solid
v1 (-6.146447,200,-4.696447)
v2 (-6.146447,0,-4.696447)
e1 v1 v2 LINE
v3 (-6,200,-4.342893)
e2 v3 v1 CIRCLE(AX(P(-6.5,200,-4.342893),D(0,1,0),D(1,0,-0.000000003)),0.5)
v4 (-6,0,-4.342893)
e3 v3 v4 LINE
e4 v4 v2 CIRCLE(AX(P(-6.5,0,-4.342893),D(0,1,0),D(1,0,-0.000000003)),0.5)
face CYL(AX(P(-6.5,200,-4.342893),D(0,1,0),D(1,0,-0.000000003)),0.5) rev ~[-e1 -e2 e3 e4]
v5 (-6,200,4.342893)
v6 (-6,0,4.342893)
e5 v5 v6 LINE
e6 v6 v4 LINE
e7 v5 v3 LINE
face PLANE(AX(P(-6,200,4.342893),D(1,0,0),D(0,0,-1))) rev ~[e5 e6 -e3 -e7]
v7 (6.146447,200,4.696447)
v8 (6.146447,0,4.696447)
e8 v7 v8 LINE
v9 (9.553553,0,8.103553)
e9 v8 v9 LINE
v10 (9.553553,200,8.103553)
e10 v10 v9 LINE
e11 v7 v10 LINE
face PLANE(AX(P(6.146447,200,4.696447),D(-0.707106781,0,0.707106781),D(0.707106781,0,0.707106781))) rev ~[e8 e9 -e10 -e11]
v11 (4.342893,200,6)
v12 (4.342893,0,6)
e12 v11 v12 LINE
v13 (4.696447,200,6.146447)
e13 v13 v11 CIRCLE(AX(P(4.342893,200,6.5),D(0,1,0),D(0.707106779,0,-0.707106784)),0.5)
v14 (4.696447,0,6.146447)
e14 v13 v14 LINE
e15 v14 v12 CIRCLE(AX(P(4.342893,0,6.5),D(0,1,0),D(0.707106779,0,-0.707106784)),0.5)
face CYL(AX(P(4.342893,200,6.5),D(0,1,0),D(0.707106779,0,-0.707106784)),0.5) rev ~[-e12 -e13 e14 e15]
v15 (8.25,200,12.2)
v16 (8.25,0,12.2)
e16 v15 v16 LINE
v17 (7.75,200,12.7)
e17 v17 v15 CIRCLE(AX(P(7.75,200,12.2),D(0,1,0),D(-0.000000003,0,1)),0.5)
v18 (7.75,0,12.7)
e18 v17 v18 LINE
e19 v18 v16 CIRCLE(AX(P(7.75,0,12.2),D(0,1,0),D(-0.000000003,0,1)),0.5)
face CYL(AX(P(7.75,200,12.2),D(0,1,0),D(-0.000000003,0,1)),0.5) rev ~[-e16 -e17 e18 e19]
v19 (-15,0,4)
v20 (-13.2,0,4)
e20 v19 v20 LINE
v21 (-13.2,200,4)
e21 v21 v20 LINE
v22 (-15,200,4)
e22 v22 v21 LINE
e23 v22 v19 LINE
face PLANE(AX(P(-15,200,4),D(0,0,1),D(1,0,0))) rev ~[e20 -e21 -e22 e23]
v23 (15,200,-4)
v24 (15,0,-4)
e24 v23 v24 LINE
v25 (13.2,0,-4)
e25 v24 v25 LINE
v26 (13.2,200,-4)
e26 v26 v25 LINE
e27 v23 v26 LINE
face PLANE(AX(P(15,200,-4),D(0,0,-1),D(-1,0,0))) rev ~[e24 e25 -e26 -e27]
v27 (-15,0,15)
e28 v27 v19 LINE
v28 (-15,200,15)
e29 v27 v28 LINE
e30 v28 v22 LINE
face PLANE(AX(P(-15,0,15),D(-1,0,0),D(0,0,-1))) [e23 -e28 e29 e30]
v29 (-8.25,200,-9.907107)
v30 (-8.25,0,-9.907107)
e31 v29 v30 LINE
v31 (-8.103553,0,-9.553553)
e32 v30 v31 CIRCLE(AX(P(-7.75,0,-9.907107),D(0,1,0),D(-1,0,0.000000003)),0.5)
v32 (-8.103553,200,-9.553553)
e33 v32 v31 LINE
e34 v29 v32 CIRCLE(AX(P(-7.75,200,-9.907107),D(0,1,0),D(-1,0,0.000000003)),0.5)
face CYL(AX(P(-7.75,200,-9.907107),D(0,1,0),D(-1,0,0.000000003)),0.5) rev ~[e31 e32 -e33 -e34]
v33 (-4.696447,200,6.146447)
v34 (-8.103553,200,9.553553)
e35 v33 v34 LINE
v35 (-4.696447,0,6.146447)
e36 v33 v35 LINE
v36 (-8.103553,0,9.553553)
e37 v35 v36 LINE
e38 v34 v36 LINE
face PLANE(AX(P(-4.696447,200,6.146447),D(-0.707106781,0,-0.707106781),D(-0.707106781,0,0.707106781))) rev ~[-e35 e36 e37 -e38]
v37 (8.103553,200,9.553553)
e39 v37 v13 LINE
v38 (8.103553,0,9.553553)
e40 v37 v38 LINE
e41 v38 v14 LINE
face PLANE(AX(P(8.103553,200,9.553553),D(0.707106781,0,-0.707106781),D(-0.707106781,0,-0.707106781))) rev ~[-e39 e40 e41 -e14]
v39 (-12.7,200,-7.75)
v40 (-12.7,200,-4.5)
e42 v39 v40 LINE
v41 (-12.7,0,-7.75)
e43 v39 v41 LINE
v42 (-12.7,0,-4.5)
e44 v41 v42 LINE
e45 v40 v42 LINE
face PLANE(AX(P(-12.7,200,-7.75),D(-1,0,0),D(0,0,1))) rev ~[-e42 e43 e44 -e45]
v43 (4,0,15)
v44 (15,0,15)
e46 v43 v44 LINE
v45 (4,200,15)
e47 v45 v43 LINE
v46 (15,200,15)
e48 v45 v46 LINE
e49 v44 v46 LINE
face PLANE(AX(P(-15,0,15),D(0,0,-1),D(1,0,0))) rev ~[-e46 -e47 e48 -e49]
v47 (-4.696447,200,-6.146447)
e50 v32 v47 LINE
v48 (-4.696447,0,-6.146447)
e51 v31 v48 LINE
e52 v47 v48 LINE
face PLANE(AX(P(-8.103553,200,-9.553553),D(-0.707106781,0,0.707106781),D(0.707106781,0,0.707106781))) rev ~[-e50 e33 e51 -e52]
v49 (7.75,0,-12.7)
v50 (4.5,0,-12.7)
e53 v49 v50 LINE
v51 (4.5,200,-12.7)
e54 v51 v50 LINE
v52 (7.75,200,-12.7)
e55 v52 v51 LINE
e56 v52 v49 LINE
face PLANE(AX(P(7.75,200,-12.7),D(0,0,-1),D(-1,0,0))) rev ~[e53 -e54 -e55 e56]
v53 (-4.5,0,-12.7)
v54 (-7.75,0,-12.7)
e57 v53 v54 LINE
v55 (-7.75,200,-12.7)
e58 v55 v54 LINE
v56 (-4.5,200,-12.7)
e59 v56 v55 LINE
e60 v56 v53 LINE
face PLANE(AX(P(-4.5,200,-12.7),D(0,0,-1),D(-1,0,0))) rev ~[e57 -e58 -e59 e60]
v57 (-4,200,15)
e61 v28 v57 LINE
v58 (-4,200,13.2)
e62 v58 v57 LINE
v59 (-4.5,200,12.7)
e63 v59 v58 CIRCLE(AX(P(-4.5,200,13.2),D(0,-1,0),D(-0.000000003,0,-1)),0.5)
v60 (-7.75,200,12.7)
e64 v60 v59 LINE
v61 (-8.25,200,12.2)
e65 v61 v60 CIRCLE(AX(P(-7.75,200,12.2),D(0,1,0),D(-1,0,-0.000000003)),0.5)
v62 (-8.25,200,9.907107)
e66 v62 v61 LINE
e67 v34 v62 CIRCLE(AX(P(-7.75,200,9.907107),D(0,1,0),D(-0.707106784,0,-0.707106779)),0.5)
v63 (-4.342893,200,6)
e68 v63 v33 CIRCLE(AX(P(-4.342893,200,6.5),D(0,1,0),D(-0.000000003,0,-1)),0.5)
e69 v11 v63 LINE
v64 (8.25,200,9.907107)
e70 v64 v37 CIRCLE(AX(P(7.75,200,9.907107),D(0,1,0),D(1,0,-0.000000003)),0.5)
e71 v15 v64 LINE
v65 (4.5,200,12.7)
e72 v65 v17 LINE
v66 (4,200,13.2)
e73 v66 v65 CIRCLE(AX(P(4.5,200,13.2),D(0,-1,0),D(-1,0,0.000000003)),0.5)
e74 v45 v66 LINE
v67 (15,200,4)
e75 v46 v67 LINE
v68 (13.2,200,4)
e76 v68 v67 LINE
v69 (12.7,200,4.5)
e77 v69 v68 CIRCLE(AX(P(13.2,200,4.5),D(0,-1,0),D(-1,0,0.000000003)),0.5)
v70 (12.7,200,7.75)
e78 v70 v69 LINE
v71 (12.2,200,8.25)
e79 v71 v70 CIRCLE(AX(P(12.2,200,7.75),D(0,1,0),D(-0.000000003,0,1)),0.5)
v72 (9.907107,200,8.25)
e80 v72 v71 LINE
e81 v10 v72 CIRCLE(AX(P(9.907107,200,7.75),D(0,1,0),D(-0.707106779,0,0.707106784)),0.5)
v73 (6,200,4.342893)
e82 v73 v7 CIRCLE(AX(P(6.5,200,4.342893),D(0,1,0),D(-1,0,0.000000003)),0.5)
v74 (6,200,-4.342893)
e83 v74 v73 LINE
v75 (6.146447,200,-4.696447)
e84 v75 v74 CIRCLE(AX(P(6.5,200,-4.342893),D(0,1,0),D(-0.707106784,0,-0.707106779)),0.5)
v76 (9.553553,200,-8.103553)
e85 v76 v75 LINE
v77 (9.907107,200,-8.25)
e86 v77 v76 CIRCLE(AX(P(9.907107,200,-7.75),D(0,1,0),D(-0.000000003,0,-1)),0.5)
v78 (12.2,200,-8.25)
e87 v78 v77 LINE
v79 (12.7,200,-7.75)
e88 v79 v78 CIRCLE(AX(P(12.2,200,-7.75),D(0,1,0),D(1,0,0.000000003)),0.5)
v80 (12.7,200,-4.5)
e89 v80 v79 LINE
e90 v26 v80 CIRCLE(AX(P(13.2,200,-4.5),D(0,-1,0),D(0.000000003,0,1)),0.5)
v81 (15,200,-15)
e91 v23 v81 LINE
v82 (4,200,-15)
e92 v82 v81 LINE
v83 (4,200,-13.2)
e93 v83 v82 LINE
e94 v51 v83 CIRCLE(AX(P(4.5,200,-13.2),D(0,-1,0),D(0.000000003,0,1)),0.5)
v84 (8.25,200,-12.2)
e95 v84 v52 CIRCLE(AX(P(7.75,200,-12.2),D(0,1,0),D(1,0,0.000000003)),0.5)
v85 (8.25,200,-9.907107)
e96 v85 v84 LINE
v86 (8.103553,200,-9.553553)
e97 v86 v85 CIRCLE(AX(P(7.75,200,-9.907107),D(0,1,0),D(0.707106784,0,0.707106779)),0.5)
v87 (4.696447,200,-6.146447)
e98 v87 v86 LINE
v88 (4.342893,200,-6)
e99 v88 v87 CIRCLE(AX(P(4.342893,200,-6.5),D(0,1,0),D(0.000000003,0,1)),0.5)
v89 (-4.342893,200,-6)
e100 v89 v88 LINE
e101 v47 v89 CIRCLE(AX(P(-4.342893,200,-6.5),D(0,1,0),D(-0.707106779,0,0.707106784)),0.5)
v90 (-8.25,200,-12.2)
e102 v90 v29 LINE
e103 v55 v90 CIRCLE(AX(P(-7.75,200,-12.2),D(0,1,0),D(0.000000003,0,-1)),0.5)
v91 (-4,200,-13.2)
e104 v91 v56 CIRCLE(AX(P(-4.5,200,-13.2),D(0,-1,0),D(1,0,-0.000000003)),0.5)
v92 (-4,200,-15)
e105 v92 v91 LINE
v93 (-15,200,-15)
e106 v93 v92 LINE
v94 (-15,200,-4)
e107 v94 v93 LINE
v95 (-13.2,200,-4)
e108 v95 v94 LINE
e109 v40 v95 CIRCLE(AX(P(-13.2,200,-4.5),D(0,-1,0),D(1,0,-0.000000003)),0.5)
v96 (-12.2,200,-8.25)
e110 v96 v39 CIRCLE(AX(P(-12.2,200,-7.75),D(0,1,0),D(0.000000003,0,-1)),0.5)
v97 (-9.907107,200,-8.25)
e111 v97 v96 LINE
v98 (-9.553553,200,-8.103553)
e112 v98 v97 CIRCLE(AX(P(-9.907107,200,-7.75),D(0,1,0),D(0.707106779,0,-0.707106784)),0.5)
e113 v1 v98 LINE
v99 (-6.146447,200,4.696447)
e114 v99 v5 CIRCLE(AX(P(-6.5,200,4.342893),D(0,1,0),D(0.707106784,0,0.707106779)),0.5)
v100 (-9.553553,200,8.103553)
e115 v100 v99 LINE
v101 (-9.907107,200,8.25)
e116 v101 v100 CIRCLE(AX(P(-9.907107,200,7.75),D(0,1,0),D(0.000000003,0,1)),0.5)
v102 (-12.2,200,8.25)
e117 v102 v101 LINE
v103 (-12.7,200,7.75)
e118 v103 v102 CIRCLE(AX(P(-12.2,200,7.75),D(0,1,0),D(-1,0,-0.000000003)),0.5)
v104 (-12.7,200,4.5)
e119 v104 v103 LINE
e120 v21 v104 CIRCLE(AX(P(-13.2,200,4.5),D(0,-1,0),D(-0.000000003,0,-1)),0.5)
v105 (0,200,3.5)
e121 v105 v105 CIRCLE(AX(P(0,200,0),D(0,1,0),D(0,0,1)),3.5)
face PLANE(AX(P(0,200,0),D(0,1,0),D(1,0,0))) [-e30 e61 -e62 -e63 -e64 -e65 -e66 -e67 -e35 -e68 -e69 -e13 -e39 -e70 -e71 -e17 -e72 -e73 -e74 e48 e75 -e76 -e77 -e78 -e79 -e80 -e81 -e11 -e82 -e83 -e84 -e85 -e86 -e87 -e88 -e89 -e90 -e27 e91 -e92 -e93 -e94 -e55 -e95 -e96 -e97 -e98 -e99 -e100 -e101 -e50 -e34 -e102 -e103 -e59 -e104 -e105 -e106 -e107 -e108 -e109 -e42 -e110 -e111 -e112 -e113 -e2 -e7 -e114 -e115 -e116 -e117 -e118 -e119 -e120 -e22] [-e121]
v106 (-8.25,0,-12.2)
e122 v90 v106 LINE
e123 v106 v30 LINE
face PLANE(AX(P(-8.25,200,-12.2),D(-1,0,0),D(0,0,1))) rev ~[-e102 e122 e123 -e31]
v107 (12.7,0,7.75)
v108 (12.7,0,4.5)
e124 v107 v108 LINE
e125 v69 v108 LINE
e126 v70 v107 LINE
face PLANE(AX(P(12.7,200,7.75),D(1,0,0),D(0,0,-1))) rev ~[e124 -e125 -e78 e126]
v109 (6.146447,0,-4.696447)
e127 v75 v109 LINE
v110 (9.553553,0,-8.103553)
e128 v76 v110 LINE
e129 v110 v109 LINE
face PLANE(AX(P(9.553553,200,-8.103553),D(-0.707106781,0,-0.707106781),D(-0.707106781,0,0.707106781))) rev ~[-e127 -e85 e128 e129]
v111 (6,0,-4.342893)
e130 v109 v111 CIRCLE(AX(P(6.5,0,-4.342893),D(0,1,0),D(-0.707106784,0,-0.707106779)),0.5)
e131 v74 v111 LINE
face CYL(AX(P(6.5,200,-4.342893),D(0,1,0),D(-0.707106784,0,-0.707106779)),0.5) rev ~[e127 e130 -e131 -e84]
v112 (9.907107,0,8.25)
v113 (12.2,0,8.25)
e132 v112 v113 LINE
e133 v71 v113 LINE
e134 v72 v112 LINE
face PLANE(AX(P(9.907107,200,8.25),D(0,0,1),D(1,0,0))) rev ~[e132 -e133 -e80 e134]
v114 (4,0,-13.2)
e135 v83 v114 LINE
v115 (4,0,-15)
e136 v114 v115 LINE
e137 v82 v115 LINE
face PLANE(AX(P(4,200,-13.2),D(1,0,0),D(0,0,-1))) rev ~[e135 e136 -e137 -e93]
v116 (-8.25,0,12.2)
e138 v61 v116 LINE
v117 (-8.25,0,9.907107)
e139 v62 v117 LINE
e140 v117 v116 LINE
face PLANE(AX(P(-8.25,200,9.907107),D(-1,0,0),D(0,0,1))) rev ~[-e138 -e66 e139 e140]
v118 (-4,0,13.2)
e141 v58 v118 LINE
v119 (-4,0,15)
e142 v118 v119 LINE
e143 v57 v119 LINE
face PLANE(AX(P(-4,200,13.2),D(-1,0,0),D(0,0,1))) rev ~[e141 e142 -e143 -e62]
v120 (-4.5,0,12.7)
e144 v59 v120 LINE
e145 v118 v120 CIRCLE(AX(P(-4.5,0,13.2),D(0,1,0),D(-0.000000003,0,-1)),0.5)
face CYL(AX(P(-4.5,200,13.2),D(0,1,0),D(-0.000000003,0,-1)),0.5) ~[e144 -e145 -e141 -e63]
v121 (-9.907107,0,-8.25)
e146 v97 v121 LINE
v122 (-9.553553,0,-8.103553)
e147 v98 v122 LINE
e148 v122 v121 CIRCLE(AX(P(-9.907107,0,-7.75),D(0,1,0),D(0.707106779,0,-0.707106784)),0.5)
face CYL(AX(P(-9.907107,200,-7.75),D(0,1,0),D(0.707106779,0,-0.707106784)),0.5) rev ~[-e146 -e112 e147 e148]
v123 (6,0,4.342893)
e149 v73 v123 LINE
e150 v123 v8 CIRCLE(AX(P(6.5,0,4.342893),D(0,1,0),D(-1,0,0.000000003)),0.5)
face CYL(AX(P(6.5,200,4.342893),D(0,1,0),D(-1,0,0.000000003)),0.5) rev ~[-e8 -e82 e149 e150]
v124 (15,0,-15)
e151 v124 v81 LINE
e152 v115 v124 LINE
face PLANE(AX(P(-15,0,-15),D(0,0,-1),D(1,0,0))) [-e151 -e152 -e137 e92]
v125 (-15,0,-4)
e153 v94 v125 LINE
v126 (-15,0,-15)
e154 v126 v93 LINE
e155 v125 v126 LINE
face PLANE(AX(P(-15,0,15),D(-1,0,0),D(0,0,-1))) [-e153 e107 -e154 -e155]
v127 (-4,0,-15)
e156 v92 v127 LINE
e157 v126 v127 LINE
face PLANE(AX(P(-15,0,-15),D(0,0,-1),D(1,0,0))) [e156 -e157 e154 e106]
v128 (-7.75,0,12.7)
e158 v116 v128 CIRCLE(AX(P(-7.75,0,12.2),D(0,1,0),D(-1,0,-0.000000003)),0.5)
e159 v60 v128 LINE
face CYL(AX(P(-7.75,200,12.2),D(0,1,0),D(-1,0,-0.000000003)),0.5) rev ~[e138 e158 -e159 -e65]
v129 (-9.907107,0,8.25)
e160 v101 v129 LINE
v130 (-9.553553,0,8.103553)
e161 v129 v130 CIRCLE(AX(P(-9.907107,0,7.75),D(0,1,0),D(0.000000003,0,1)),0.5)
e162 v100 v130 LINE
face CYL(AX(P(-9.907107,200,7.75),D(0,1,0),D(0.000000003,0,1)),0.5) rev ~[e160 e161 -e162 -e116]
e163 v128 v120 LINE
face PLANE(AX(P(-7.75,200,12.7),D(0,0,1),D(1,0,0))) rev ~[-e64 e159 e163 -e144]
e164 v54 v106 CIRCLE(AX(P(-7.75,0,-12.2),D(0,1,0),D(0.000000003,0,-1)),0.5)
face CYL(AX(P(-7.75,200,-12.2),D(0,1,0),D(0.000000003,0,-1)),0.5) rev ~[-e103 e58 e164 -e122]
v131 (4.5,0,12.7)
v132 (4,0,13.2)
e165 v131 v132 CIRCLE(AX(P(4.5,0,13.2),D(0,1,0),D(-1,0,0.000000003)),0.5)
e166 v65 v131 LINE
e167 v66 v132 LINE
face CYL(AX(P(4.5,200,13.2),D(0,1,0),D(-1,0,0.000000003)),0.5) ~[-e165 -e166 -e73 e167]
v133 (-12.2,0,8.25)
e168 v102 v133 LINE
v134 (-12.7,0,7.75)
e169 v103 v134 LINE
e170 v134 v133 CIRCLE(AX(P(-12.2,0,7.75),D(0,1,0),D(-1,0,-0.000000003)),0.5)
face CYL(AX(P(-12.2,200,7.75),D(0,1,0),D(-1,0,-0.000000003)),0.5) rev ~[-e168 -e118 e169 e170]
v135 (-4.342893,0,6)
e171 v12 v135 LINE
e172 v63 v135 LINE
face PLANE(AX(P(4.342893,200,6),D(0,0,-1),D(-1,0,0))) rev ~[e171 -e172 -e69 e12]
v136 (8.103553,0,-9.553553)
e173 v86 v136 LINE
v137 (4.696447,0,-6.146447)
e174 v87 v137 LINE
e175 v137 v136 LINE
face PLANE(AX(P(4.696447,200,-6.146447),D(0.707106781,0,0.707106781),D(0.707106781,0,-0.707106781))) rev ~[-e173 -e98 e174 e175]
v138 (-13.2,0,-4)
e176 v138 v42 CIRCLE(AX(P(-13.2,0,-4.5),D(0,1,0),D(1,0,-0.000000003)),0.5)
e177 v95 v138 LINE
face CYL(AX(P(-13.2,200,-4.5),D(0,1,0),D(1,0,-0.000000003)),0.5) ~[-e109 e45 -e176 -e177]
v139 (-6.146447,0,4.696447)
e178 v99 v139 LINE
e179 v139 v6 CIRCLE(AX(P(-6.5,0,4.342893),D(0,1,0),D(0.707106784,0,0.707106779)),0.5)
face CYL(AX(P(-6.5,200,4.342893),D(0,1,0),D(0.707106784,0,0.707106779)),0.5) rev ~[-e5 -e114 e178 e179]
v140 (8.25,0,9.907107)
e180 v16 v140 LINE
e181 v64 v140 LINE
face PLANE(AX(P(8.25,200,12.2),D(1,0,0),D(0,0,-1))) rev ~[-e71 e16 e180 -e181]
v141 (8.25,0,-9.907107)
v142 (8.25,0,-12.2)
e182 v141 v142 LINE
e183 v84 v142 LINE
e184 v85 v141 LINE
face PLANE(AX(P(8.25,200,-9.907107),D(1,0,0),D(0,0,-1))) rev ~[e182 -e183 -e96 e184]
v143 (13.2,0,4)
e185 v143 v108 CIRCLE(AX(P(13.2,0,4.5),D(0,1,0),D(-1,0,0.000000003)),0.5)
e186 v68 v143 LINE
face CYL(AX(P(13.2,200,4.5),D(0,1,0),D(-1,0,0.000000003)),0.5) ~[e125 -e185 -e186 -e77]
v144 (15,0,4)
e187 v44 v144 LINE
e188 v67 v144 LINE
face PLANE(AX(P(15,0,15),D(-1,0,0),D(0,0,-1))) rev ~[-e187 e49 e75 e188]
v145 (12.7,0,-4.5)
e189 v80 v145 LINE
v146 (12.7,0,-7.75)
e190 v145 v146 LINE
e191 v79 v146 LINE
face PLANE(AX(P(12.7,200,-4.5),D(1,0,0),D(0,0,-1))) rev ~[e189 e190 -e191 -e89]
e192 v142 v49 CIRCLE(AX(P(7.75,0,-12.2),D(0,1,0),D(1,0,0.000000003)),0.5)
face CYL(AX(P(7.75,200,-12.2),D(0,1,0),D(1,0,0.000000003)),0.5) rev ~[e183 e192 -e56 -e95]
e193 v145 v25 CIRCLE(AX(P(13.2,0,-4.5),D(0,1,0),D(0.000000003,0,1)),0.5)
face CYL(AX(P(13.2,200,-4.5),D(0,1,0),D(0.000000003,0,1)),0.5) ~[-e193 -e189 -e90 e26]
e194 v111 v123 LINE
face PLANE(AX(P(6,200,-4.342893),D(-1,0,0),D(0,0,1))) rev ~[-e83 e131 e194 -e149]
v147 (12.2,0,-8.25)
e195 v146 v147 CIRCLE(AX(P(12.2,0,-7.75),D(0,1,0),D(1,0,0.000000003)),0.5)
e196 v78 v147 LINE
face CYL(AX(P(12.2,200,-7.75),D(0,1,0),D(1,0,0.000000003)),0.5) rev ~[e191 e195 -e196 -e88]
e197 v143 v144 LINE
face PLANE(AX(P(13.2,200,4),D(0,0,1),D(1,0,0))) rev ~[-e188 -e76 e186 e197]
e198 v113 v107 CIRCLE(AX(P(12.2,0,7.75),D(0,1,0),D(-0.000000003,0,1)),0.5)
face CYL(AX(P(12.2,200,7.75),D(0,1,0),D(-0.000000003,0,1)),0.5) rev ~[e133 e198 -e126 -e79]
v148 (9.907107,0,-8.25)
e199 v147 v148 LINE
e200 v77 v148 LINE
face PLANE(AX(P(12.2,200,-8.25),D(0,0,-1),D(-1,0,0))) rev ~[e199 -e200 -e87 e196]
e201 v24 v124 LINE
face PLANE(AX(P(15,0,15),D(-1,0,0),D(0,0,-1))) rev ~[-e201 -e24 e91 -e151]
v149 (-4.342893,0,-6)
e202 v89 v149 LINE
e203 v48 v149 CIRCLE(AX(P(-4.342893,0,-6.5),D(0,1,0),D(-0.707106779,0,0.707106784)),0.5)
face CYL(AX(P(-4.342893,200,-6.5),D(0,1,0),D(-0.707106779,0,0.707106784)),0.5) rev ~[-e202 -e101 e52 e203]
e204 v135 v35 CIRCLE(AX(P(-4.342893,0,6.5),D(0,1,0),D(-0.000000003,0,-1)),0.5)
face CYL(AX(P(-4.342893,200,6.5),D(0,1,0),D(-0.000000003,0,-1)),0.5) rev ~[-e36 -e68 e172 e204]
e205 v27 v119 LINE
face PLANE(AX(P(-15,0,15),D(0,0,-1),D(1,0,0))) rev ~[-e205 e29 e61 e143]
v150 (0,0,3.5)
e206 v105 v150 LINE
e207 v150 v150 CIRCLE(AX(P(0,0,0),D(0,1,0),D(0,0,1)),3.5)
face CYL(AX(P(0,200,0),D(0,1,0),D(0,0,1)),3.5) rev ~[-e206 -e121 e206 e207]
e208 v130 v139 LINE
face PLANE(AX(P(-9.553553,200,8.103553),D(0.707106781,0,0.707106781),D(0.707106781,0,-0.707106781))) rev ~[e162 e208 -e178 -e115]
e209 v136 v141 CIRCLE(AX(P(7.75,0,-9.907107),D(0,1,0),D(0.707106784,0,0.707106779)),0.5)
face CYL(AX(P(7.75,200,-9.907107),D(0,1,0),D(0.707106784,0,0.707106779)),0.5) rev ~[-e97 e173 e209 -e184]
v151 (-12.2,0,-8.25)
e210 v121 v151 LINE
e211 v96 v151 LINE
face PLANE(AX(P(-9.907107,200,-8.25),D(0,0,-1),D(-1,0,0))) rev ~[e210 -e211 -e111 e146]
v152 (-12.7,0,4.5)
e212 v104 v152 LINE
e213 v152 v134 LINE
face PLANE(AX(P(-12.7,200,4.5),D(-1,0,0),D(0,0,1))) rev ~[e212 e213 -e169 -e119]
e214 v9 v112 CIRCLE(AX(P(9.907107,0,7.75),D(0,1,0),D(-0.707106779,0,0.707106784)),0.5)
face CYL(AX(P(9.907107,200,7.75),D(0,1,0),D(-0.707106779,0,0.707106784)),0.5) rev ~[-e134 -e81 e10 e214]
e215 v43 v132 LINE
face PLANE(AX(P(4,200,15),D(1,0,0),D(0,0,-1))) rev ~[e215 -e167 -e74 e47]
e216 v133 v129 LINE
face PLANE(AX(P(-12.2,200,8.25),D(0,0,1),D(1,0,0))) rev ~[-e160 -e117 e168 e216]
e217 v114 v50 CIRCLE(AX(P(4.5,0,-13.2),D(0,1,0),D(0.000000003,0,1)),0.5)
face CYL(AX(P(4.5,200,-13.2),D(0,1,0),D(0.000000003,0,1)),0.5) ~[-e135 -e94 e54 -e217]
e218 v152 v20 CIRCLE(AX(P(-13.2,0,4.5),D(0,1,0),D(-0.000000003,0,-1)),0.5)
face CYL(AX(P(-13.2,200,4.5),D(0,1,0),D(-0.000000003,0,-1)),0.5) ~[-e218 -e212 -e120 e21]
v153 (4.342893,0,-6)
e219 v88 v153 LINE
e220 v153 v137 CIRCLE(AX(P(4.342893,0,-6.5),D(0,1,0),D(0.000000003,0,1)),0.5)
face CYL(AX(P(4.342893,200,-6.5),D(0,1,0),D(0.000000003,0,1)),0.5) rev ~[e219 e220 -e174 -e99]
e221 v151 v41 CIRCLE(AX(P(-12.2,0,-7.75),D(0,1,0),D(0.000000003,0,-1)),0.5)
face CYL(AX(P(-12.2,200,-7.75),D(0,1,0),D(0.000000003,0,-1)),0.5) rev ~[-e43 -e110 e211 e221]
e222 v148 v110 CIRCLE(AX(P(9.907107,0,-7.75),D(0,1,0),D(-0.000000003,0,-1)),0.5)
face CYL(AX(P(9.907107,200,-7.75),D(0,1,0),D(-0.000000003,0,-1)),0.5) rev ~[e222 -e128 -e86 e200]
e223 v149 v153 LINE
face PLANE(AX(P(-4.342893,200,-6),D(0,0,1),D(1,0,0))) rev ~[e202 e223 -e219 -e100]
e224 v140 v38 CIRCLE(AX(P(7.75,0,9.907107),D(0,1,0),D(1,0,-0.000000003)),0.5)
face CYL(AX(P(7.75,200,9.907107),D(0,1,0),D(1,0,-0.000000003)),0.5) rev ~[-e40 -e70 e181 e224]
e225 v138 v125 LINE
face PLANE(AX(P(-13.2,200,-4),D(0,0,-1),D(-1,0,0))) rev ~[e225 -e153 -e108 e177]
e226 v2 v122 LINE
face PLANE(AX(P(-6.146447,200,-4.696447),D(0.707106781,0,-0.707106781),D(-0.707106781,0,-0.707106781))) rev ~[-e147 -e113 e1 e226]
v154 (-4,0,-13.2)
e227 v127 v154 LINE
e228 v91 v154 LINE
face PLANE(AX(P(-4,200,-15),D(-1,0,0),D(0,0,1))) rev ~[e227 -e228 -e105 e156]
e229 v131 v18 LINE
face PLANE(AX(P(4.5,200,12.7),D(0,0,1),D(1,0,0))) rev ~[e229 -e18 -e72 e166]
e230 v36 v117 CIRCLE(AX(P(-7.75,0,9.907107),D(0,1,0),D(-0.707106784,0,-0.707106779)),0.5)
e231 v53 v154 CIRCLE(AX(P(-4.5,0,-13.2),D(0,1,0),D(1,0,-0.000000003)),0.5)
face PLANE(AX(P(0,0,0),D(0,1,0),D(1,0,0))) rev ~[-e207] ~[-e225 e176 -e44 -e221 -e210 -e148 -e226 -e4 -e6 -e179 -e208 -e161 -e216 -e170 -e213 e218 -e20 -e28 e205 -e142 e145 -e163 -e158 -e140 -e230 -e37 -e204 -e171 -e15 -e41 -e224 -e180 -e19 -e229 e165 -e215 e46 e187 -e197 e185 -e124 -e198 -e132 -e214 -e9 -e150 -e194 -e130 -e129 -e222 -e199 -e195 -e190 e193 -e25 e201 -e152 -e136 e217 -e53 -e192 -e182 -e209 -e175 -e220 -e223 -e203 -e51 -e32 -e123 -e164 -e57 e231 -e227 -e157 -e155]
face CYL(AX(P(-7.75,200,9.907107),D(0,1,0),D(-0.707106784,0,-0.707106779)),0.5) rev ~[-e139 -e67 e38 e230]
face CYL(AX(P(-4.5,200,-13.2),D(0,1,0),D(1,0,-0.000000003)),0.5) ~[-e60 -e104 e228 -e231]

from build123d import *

# Parameters (mm, degrees)
CROQUIS1_W              = 30
CROQUIS1_H              = 30
SALIENTE_EXTRUIR1_DEPTH = 200
CROQUIS3_R              = 3.5
CORTAR_EXTRUIR2_DEPTH   = 202.121853611


with BuildPart() as part:
    # Croquis1 → Saliente-Extruir1 (new body)
    with BuildSketch(Plane(origin=(0, 0, 0), x_dir=(1, 0, 0), z_dir=(0, 1, 0))):
        Rectangle(CROQUIS1_W, CROQUIS1_H)
    extrude(amount=SALIENTE_EXTRUIR1_DEPTH)

    # Croquis3 → Cortar-Extruir2 (cut, through all)
    with BuildSketch(Plane(origin=(0, 200, 0), x_dir=(1, 0, 0), z_dir=(0, 1, 0))):
        with Locations(Location((0, 0, 0), (0, 0, 270))):
            Circle(CROQUIS3_R)
        with BuildLine():
            Line((4, 15), (-4, 15))
            Line((-4, 15), (-4, 13.2))
            ThreePointArc((-4, 13.2), (-4.146446609, 12.846446609), (-4.5, 12.7))
            Line((-4.5, 12.7), (-7.75, 12.7))
            ThreePointArc((-7.75, 12.7), (-8.103553391, 12.553553391), (-8.25, 12.2))
            Line((-8.25, 12.2), (-8.25, 9.907106781))
            ThreePointArc((-8.25, 9.907106781), (-8.211939766, 9.715765065), (-8.103553391, 9.553553391))
            Line((-8.103553391, 9.553553391), (-4.696446609, 6.146446609))
            ThreePointArc((-4.696446609, 6.146446609), (-4.534234935, 6.038060234), (-4.342893219, 6))
            Line((-4.342893219, 6), (4.342893219, 6))
            ThreePointArc((4.342893219, 6), (4.534234935, 6.038060234), (4.696446609, 6.146446609))
            Line((4.696446609, 6.146446609), (8.103553391, 9.553553391))
            ThreePointArc((8.103553391, 9.553553391), (8.211939766, 9.715765065), (8.25, 9.907106781))
            Line((8.25, 9.907106781), (8.25, 12.2))
            ThreePointArc((8.25, 12.2), (8.103553391, 12.553553391), (7.75, 12.7))
            Line((7.75, 12.7), (4.5, 12.7))
            ThreePointArc((4.5, 12.7), (4.146446609, 12.846446609), (4, 13.2))
            Line((4, 13.2), (4, 15))
        make_face()
        with BuildLine():
            Line((6, 4.342893219), (6, -4.342893219))
            ThreePointArc((6, -4.342893219), (6.038060234, -4.534234935), (6.146446609, -4.696446609))
            Line((6.146446609, -4.696446609), (9.553553391, -8.103553391))
            ThreePointArc((9.553553391, -8.103553391), (9.715765065, -8.211939766), (9.907106781, -8.25))
            Line((9.907106781, -8.25), (12.2, -8.25))
            ThreePointArc((12.2, -8.25), (12.553553391, -8.103553391), (12.7, -7.75))
            Line((12.7, -7.75), (12.7, -4.5))
            ThreePointArc((12.7, -4.5), (12.846446609, -4.146446609), (13.2, -4))
            Line((13.2, -4), (15, -4))
            Line((15, -4), (15, 4))
            Line((15, 4), (13.2, 4))
            ThreePointArc((13.2, 4), (12.846446609, 4.146446609), (12.7, 4.5))
            Line((12.7, 4.5), (12.7, 7.75))
            ThreePointArc((12.7, 7.75), (12.553553391, 8.103553391), (12.2, 8.25))
            Line((12.2, 8.25), (9.907106781, 8.25))
            ThreePointArc((9.907106781, 8.25), (9.715765065, 8.211939766), (9.553553391, 8.103553391))
            Line((9.553553391, 8.103553391), (6.146446609, 4.696446609))
            ThreePointArc((6.146446609, 4.696446609), (6.038060234, 4.534234935), (6, 4.342893219))
        make_face()
        with BuildLine():
            Line((4.342893219, -6), (-4.342893219, -6))
            ThreePointArc((-4.342893219, -6), (-4.534234935, -6.038060234), (-4.696446609, -6.146446609))
            Line((-4.696446609, -6.146446609), (-8.103553391, -9.553553391))
            ThreePointArc((-8.103553391, -9.553553391), (-8.211939766, -9.715765065), (-8.25, -9.907106781))
            Line((-8.25, -9.907106781), (-8.25, -12.2))
            ThreePointArc((-8.25, -12.2), (-8.103553391, -12.553553391), (-7.75, -12.7))
            Line((-7.75, -12.7), (-4.5, -12.7))
            ThreePointArc((-4.5, -12.7), (-4.146446609, -12.846446609), (-4, -13.2))
            Line((-4, -13.2), (-4, -15))
            Line((-4, -15), (4, -15))
            Line((4, -15), (4, -13.2))
            ThreePointArc((4, -13.2), (4.146446609, -12.846446609), (4.5, -12.7))
            Line((4.5, -12.7), (7.75, -12.7))
            ThreePointArc((7.75, -12.7), (8.103553391, -12.553553391), (8.25, -12.2))
            Line((8.25, -12.2), (8.25, -9.907106781))
            ThreePointArc((8.25, -9.907106781), (8.211939766, -9.715765065), (8.103553391, -9.553553391))
            Line((8.103553391, -9.553553391), (4.696446609, -6.146446609))
            ThreePointArc((4.696446609, -6.146446609), (4.534234935, -6.038060234), (4.342893219, -6))
        make_face()
        with BuildLine():
            Line((-6, -4.342893219), (-6, 4.342893219))
            ThreePointArc((-6, 4.342893219), (-6.038060234, 4.534234935), (-6.146446609, 4.696446609))
            Line((-6.146446609, 4.696446609), (-9.553553391, 8.103553391))
            ThreePointArc((-9.553553391, 8.103553391), (-9.715765065, 8.211939766), (-9.907106781, 8.25))
            Line((-9.907106781, 8.25), (-12.2, 8.25))
            ThreePointArc((-12.2, 8.25), (-12.553553391, 8.103553391), (-12.7, 7.75))
            Line((-12.7, 7.75), (-12.7, 4.5))
            ThreePointArc((-12.7, 4.5), (-12.846446609, 4.146446609), (-13.2, 4))
            Line((-13.2, 4), (-15, 4))
            Line((-15, 4), (-15, -4))
            Line((-15, -4), (-13.2, -4))
            ThreePointArc((-13.2, -4), (-12.846446609, -4.146446609), (-12.7, -4.5))
            Line((-12.7, -4.5), (-12.7, -7.75))
            ThreePointArc((-12.7, -7.75), (-12.553553391, -8.103553391), (-12.2, -8.25))
            Line((-12.2, -8.25), (-9.907106781, -8.25))
            ThreePointArc((-9.907106781, -8.25), (-9.715765065, -8.211939766), (-9.553553391, -8.103553391))
            Line((-9.553553391, -8.103553391), (-6.146446609, -4.696446609))
            ThreePointArc((-6.146446609, -4.696446609), (-6.038060234, -4.534234935), (-6, -4.342893219))
        make_face()
    extrude(amount=-CORTAR_EXTRUIR2_DEPTH, mode=Mode.SUBTRACT)


solid = part.part
